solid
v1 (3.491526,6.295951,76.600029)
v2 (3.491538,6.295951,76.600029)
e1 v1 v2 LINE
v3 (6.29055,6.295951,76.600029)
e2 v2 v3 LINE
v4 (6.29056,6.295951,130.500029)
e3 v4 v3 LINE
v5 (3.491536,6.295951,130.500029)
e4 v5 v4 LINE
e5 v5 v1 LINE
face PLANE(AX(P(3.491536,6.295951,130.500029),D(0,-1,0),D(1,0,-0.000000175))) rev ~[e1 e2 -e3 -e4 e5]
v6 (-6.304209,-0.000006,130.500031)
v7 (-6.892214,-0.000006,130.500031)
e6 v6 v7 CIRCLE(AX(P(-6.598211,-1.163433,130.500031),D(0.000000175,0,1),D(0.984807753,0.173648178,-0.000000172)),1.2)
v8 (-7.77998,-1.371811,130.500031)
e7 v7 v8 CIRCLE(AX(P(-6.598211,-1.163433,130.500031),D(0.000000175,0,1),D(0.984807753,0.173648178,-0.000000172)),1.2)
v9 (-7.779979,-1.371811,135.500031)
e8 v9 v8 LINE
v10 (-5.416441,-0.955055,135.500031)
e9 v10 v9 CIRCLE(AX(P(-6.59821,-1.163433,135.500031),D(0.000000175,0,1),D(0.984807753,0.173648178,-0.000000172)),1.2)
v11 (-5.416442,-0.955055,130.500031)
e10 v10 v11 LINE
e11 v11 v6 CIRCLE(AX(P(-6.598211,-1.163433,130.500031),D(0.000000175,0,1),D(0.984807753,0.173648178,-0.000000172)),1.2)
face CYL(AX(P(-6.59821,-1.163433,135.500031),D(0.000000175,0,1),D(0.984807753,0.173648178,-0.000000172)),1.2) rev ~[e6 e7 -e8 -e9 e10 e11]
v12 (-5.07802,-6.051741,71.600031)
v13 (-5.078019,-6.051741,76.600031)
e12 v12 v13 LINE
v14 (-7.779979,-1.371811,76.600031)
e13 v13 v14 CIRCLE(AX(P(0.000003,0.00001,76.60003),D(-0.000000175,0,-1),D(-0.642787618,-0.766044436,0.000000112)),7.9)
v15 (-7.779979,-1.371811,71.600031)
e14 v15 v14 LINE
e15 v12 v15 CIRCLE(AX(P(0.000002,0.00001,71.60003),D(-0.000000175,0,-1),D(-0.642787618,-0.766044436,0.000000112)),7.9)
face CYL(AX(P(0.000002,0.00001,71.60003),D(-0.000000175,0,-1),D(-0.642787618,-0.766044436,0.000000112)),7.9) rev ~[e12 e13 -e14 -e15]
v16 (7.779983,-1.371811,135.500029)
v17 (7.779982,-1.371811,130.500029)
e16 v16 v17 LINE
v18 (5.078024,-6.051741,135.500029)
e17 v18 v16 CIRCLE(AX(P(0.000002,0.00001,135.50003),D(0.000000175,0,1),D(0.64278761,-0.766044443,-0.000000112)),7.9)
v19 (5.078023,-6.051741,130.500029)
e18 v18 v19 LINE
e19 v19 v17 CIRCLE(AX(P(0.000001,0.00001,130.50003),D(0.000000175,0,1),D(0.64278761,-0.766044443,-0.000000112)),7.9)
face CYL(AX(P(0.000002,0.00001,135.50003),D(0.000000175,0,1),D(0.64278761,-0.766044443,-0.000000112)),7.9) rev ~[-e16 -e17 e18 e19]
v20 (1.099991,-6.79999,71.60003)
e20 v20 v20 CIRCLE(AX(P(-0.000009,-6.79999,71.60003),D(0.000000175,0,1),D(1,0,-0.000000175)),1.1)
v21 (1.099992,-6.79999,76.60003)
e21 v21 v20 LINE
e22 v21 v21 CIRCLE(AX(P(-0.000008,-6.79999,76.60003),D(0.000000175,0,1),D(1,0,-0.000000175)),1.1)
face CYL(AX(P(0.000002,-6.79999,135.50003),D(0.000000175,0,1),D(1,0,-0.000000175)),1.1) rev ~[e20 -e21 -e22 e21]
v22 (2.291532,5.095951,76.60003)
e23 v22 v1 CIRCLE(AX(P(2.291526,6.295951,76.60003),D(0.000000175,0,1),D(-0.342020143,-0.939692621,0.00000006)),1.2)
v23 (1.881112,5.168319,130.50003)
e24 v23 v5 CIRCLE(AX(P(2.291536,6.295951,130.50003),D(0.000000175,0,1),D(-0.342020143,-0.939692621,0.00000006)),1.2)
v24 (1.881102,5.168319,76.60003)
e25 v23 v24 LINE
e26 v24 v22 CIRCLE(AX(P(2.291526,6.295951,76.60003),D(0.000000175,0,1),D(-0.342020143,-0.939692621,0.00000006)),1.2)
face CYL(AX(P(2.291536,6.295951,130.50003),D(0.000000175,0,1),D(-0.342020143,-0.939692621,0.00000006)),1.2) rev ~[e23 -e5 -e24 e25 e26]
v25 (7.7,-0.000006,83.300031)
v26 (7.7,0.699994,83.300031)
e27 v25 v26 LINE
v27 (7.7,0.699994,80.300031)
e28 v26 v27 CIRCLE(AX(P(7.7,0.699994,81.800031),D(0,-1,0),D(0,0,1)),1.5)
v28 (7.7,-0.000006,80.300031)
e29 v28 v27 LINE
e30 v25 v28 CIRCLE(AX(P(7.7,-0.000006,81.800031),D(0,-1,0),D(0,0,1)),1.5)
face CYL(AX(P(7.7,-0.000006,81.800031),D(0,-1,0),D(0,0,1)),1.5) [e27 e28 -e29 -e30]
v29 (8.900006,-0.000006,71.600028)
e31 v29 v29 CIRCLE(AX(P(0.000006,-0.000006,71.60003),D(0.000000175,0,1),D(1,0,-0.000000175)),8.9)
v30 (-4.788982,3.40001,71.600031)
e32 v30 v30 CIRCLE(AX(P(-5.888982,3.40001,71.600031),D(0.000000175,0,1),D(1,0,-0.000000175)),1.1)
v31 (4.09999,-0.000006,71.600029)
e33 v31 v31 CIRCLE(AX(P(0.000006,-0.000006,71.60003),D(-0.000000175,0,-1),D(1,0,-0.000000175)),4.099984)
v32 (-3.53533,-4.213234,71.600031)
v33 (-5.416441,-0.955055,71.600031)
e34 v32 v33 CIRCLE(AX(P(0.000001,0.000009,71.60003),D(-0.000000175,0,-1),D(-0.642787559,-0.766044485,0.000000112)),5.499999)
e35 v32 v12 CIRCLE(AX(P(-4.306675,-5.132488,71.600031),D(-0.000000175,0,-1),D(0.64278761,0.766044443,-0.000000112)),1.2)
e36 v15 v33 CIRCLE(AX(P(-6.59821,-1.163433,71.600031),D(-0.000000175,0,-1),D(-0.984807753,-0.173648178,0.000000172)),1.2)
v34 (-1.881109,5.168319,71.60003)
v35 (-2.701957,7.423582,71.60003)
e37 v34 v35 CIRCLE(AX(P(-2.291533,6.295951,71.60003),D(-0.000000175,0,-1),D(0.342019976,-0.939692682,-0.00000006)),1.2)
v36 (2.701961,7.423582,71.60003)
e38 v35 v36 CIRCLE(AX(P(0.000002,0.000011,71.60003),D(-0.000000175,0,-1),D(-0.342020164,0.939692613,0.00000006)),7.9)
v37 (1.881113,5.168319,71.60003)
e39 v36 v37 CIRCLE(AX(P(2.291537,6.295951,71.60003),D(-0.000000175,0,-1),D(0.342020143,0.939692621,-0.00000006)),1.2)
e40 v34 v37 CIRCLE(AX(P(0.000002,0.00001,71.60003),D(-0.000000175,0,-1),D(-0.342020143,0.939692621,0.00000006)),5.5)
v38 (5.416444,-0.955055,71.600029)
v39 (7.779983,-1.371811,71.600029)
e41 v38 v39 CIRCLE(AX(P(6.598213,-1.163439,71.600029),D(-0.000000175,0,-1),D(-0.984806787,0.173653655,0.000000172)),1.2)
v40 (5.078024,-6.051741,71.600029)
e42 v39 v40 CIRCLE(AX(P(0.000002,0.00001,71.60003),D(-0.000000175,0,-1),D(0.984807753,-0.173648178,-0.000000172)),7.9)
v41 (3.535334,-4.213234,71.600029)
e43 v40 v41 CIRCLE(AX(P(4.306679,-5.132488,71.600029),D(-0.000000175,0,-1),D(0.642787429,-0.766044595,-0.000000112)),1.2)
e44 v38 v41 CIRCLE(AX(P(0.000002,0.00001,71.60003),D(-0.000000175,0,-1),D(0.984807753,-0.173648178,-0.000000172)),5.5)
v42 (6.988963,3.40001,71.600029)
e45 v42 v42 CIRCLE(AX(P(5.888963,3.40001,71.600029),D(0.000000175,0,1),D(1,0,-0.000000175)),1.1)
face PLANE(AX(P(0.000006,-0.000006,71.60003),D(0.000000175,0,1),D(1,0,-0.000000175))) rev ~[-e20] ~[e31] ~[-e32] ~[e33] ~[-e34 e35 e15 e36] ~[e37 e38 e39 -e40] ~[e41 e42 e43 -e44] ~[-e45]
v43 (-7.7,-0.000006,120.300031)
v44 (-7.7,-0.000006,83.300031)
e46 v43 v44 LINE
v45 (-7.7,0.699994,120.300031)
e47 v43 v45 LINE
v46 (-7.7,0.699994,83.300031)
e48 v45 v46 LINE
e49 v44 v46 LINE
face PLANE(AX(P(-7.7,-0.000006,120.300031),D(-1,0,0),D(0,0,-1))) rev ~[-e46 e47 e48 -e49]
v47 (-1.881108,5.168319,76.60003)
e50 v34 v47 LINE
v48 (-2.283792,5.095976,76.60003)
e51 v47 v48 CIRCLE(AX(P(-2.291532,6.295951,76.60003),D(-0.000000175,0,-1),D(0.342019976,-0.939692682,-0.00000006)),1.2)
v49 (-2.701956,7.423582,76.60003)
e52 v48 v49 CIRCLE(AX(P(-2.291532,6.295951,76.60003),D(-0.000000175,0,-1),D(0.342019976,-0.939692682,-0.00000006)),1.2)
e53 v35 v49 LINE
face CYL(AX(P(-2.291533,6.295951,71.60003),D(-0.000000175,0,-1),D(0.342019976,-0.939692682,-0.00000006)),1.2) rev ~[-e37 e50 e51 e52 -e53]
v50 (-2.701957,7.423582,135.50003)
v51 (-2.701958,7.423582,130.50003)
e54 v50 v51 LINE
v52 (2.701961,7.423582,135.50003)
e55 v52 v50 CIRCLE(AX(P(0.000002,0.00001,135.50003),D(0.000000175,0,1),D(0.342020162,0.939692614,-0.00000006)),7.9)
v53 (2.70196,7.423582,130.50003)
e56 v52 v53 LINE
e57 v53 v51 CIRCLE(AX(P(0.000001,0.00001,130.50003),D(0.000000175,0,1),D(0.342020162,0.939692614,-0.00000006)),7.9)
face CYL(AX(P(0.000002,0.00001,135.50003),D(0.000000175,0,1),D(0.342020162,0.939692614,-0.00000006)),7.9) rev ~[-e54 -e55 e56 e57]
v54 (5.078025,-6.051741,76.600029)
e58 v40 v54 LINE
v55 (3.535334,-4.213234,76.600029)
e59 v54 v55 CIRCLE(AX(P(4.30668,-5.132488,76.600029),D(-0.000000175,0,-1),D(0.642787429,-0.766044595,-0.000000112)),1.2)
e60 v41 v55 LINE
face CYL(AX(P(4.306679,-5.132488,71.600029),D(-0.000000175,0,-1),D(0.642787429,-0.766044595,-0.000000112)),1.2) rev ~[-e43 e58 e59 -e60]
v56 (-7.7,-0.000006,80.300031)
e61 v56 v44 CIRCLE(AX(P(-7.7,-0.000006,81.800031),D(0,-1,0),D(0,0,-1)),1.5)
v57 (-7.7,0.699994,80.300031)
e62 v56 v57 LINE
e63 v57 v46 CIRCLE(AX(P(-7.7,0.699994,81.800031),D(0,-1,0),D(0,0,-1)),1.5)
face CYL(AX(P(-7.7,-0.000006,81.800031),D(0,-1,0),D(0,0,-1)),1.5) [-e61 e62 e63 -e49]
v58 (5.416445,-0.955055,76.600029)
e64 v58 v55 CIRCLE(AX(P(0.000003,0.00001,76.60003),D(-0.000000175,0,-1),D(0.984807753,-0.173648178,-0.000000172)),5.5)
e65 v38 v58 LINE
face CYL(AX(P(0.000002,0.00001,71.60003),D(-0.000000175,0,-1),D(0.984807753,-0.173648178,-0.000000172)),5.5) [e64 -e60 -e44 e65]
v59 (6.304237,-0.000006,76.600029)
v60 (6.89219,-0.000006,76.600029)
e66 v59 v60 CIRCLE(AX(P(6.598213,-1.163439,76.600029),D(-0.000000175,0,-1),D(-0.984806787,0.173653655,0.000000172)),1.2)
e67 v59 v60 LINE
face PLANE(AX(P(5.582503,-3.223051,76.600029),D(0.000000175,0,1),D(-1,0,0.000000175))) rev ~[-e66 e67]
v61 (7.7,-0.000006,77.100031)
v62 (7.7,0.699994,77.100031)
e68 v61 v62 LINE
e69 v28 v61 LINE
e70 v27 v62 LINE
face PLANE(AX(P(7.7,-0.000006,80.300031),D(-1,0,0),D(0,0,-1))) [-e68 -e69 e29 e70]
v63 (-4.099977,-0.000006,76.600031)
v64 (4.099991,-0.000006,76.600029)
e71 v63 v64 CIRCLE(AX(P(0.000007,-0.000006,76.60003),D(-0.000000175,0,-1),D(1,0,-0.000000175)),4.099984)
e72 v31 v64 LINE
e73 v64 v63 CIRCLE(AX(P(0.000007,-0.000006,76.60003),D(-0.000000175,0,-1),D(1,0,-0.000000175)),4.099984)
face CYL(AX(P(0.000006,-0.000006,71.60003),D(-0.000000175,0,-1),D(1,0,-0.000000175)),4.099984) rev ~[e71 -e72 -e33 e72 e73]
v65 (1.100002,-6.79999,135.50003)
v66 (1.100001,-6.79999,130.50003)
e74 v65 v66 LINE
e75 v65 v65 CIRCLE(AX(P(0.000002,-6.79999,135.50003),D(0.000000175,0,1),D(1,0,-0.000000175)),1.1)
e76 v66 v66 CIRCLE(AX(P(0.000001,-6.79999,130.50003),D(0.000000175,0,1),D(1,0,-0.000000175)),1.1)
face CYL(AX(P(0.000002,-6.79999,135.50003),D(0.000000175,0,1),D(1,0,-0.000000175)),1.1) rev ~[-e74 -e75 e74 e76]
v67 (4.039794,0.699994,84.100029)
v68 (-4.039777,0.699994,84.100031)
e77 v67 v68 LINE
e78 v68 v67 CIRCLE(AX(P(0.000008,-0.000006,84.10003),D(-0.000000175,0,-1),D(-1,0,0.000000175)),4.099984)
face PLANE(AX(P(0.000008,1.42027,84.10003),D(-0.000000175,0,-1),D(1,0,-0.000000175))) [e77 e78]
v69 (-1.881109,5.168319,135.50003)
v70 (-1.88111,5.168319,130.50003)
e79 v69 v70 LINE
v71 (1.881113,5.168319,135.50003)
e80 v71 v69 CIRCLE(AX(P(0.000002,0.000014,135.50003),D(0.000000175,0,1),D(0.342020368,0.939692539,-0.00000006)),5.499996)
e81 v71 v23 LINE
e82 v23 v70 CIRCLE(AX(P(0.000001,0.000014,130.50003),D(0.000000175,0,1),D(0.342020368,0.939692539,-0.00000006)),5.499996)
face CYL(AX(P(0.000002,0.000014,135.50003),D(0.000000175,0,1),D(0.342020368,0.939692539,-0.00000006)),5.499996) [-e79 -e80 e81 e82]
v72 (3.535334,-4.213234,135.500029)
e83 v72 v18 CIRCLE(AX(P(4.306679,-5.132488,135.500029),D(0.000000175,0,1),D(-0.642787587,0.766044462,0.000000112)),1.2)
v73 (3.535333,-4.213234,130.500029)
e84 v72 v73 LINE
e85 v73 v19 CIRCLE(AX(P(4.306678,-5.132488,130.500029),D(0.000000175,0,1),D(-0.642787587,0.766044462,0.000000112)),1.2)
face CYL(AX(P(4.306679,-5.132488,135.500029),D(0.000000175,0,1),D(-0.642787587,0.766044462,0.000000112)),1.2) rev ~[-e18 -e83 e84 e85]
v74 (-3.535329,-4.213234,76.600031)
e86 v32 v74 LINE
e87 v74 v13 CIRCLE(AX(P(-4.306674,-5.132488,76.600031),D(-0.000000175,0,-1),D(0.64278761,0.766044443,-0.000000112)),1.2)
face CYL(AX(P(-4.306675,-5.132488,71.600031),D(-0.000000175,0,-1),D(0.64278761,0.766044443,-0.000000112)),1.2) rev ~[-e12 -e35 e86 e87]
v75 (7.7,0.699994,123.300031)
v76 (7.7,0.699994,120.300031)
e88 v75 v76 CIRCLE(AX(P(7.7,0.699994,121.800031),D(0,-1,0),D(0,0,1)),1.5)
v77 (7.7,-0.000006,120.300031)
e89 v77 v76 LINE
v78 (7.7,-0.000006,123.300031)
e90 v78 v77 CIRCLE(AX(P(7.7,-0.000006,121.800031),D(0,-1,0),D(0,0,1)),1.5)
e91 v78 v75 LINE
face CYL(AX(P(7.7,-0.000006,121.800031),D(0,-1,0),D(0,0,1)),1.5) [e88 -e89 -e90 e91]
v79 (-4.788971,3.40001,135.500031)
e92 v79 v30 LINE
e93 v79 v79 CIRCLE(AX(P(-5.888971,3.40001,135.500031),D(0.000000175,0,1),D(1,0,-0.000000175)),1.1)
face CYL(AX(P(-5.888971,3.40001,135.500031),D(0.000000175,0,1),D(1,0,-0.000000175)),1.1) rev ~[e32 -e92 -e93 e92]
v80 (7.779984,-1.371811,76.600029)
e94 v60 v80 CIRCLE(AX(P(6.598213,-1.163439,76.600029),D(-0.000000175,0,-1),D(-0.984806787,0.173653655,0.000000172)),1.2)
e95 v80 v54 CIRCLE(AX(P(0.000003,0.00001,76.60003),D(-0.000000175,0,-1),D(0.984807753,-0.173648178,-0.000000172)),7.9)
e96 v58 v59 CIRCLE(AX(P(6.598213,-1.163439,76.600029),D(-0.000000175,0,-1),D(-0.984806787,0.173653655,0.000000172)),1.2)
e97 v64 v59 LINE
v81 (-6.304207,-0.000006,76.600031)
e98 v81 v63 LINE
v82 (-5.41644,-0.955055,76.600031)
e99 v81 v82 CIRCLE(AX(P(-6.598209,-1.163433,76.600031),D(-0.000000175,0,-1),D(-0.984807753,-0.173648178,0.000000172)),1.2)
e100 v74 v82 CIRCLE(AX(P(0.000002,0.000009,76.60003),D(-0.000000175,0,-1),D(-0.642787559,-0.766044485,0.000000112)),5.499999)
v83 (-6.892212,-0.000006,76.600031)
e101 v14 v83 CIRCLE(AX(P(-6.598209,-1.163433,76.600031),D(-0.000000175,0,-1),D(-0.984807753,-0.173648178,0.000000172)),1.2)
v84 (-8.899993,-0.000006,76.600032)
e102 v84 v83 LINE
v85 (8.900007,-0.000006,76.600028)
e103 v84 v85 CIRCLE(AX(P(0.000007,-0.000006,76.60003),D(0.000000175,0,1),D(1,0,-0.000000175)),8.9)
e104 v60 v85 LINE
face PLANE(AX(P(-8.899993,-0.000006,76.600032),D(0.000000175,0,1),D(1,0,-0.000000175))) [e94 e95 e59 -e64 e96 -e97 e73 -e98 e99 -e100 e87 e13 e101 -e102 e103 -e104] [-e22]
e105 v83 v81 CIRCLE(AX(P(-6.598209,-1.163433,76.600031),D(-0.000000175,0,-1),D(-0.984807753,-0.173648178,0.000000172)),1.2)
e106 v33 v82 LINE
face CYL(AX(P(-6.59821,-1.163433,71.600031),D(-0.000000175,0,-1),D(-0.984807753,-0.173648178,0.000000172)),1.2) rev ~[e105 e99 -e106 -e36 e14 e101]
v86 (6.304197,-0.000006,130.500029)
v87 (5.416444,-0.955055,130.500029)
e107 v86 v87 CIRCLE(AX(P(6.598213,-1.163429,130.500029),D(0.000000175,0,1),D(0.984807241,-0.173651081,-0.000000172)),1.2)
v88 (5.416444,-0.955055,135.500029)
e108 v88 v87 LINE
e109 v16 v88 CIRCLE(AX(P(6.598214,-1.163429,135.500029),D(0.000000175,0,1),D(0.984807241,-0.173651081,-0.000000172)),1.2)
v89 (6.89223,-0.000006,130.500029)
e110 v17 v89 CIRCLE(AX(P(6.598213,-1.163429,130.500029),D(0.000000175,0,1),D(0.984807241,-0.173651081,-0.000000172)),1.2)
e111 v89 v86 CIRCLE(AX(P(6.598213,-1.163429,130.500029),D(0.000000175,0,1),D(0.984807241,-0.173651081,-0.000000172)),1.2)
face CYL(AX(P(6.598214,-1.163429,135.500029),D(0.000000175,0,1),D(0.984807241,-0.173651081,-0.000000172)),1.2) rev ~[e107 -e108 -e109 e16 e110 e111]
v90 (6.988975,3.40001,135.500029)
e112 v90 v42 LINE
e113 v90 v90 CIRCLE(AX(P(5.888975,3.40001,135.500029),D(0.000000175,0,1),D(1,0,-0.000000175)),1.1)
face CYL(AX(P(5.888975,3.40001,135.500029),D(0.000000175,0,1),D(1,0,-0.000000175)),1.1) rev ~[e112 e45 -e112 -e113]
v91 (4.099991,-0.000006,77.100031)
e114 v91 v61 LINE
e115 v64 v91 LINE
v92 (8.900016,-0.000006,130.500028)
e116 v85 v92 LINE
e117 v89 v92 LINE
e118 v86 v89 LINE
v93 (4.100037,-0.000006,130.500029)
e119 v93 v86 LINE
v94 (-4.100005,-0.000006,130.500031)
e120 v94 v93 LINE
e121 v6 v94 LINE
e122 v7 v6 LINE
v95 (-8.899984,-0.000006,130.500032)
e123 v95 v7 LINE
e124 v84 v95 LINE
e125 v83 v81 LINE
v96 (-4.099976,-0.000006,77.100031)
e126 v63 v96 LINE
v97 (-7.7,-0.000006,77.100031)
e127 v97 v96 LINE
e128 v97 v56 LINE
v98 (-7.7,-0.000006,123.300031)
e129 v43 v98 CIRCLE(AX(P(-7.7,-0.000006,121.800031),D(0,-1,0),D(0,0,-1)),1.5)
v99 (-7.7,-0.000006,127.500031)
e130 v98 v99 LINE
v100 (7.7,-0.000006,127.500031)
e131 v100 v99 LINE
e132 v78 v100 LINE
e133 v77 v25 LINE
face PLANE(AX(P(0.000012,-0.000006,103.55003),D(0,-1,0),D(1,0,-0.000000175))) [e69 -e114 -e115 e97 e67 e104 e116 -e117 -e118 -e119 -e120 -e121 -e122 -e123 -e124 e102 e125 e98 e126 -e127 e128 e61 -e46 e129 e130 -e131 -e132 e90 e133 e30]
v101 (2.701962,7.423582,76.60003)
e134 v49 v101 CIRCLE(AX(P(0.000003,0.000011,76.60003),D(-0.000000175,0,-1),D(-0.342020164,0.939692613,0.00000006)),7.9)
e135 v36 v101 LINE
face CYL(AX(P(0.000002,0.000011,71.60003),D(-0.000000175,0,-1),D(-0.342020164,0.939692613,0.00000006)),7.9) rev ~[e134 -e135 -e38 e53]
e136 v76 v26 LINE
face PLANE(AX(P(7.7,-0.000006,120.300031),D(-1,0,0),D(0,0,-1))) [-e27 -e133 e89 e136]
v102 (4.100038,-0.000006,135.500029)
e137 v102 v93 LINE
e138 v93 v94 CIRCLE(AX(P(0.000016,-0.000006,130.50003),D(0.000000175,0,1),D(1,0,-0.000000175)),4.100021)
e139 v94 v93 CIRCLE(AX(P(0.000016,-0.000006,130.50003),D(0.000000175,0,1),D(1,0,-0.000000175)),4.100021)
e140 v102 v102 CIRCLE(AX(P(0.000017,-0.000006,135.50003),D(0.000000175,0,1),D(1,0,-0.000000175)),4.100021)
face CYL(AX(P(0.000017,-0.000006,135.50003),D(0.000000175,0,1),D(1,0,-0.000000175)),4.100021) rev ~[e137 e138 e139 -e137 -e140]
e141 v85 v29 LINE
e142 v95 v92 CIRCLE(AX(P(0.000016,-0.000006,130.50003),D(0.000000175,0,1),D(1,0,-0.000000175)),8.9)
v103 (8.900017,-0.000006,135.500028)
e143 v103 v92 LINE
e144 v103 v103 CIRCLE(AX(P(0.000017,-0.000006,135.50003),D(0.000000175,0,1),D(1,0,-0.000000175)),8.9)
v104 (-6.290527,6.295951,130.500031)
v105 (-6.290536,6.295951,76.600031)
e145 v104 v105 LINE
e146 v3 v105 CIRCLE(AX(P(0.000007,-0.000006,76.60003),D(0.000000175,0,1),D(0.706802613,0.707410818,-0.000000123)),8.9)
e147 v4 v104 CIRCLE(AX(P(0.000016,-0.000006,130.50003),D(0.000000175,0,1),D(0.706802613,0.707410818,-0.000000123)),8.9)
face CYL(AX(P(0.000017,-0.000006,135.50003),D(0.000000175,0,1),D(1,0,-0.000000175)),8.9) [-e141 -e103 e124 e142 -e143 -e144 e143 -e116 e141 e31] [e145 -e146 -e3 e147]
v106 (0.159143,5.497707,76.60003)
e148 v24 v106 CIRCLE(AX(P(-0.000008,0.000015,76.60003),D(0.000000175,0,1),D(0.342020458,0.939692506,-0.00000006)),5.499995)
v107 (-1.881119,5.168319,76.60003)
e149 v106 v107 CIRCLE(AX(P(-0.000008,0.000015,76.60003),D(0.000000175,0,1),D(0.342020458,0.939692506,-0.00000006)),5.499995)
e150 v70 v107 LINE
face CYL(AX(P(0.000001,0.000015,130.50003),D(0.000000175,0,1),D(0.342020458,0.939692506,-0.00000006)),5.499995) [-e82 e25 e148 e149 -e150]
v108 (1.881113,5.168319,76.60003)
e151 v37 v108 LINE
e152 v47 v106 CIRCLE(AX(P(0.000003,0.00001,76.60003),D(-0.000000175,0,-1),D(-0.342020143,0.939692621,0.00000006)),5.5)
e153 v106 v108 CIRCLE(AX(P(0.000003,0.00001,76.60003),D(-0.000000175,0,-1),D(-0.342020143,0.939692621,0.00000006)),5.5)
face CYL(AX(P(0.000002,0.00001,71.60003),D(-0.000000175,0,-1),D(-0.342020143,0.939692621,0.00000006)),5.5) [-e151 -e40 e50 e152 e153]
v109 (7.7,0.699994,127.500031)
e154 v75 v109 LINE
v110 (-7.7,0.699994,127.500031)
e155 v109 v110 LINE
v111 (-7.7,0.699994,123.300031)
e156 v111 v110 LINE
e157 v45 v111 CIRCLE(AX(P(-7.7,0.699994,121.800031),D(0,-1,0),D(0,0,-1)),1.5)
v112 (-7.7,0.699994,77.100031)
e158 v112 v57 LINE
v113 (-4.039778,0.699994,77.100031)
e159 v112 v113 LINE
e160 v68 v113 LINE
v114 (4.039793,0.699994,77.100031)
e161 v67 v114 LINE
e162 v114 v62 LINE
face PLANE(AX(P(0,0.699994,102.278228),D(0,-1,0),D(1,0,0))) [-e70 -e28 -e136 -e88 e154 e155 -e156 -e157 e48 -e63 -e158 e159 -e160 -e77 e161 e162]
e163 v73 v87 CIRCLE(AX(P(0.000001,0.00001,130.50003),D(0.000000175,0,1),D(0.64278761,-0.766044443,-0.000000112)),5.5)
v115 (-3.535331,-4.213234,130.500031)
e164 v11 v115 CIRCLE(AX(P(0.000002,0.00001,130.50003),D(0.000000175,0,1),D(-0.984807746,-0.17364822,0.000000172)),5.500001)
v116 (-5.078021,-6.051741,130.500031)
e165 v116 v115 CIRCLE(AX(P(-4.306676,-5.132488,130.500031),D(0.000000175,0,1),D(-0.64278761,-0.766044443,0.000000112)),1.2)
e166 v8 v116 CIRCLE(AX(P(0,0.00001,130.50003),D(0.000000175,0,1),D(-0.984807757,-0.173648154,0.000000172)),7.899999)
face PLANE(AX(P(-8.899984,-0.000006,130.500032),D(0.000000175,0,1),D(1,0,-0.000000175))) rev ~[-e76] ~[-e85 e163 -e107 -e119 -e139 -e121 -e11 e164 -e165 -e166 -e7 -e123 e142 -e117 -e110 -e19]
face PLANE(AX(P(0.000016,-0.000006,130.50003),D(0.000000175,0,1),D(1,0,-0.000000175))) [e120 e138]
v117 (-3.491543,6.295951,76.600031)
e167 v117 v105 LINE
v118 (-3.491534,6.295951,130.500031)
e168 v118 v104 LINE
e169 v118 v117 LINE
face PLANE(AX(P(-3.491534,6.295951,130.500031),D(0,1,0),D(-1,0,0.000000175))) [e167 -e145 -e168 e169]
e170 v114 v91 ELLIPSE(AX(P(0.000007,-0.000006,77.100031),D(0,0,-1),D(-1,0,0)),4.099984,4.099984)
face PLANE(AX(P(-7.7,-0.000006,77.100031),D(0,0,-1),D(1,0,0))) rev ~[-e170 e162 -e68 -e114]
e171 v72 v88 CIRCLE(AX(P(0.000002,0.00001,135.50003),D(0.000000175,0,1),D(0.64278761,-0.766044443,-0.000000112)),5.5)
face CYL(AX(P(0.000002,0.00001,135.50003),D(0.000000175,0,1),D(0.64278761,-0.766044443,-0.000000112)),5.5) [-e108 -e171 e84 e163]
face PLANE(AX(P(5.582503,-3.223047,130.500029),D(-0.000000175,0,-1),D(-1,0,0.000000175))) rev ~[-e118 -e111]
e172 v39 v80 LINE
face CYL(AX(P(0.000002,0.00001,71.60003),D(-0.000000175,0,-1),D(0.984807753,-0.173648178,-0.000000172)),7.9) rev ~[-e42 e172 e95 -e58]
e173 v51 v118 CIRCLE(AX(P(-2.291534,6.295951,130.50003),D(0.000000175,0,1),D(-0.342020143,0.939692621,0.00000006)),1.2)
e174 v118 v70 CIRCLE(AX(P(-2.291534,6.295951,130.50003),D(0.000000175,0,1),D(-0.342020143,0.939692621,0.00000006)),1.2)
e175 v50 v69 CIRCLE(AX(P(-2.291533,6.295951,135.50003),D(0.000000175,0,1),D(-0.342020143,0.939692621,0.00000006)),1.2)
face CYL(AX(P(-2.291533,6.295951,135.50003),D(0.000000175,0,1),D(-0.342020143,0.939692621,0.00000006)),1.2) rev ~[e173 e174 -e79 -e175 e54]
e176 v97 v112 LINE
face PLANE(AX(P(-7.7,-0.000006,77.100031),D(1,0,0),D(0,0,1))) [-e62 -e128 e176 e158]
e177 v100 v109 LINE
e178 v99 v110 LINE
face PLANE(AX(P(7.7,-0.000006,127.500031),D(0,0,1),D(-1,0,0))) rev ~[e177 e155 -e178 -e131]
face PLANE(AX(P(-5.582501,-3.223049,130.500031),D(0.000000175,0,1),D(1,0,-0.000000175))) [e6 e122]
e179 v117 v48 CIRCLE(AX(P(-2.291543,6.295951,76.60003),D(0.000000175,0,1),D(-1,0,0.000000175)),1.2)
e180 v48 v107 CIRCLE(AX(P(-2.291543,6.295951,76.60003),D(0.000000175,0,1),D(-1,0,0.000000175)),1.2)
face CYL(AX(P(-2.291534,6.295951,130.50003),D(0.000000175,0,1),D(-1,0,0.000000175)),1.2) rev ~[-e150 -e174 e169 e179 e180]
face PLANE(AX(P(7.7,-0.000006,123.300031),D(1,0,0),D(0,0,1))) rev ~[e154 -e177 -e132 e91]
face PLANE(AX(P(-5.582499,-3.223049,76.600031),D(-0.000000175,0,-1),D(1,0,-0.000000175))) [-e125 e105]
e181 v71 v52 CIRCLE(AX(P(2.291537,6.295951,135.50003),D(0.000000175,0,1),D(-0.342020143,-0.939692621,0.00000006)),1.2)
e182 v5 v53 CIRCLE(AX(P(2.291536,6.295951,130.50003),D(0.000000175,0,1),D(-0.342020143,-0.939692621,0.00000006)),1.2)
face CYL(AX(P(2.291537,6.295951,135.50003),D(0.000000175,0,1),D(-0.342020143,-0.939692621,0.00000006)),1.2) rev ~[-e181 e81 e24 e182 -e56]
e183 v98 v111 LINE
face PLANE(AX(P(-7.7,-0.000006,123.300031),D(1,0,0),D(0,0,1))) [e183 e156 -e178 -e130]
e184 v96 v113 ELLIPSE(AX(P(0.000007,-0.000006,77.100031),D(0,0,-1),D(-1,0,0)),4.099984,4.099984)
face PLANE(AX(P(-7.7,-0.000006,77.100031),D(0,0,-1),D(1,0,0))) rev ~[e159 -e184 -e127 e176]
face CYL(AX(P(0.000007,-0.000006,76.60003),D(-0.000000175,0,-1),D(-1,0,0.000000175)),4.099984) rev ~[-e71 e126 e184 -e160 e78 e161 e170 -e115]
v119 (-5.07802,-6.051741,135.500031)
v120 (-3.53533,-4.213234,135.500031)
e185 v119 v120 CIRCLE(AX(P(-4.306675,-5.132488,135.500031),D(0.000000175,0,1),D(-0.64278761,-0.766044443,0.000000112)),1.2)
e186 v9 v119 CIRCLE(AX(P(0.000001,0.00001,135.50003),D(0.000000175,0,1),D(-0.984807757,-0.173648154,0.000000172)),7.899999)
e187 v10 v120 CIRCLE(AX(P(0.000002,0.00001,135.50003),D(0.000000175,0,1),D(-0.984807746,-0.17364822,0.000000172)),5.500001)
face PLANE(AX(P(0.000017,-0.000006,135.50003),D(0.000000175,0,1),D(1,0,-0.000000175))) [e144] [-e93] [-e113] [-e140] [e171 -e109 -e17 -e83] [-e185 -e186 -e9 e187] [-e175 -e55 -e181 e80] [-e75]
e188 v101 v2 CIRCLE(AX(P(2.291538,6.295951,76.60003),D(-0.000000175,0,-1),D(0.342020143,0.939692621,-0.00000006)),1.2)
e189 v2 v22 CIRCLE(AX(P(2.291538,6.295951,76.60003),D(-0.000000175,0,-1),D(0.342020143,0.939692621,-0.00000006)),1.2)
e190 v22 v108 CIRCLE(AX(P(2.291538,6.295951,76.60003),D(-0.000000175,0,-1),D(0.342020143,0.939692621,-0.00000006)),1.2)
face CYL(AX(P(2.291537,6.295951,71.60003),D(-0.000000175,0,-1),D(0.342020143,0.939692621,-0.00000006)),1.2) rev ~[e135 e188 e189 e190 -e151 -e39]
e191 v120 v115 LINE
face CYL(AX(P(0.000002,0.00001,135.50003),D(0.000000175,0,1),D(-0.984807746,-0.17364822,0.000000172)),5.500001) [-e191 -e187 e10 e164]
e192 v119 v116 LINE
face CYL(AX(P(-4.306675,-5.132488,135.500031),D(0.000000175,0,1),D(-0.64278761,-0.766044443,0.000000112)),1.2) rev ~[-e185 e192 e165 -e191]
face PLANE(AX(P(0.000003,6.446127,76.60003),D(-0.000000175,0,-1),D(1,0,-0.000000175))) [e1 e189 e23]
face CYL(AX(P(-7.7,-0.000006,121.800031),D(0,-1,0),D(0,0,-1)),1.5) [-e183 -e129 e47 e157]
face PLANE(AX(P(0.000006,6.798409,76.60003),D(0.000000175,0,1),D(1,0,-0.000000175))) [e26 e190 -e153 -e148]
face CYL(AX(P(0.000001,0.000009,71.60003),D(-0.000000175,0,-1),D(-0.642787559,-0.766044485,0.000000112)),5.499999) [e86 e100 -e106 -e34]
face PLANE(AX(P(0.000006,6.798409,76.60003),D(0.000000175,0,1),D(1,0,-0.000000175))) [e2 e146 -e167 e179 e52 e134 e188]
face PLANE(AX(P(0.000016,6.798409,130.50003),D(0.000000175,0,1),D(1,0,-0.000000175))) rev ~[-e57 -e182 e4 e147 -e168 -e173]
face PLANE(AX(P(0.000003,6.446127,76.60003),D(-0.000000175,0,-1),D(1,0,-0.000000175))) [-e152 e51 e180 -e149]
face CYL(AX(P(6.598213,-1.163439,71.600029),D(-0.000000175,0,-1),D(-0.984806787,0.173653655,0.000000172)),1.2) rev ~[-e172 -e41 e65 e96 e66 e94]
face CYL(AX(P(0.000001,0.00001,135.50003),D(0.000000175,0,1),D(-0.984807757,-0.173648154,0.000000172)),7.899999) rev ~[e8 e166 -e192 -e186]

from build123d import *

# Parameters (mm, degrees)
SKETCH018_R     = 8.9
SKETCH018_R_2   = 1.1
PAD010_DEPTH    = 63.9
SKETCH021_R     = 4.0999836604
POCKET011_DEPTH = 5
SKETCH022_R     = 4.100021
POCKET012_DEPTH = 5
SKETCH023_W     = 17.8
SKETCH023_H     = 53.9
POCKET013_DEPTH = 8.901
POCKET014_DEPTH = 53.9
POCKET015_DEPTH = 7.5
POCKET016_DEPTH = 0.7


with BuildPart() as part:
    # Sketch018 (on Face1 of Binder002) → Pad010 (new body)
    with BuildSketch(Plane(origin=(1.7366e-05, 0, 99.49997), x_dir=(1, 0, -1.745e-07), z_dir=(1.745e-07, 0, 1))):
        Circle(SKETCH018_R)
        with Locations((-5.8889883308, 3.400015722)):
            Circle(SKETCH018_R_2, mode=Mode.SUBTRACT)
        with Locations((5.8889571607, 3.400015722)):
            Circle(SKETCH018_R_2, mode=Mode.SUBTRACT)
        with Locations((-1.5585e-05, -6.799984278)):
            Circle(SKETCH018_R_2, mode=Mode.SUBTRACT)
    extrude(amount=-PAD010_DEPTH)

    # Sketch021 → Pocket011 (cut)
    with BuildSketch(Plane(origin=(6.2134e-06, 0, 35.59997), x_dir=(1, 0, -1.745e-07), z_dir=(-1.745e-07, 0, -1))):
        Circle(SKETCH021_R)
        with BuildLine():
            ThreePointArc((-1.8811152381, -5.1683251364), (-3.4191703541, -5.8855321825), (-2.7019635821, -7.4235874263))
            ThreePointArc((-2.7019635821, -7.4235874263), (-4.4498e-06, -7.9000157524), (2.7019546824, -7.4235874263))
            ThreePointArc((2.7019546824, -7.4235874263), (3.4191616554, -5.8855321093), (1.8811063384, -5.1683251364))
            ThreePointArc((-1.8811152381, -5.1683251364), (-4.4498e-06, -5.500015722), (1.8811063384, -5.1683251364))
        make_face()
        with BuildLine():
            ThreePointArc((5.4164381917, 0.9550492551), (4.763135271, 2.749984278), (3.5353274034, 4.2132287151))
            ThreePointArc((5.0780176667, 6.0517353786), (3.3874194198, 5.9038269968), (3.5353274034, 4.2132287151))
            ThreePointArc((7.7799767989, 1.3718048815), (6.84159624, 3.949984278), (5.0780176667, 6.0517353786))
            ThreePointArc((5.4164381917, 0.9550492551), (6.8065841495, -0.018335662), (7.7799767989, 1.3718048815))
        make_face()
        with BuildLine():
            ThreePointArc((-3.5353363031, 4.2132287151), (-3.387428103, 5.9038271785), (-5.0780265664, 6.0517353786))
            ThreePointArc((-5.0780265664, 6.0517353786), (-6.8416051259, 3.94998427), (-7.7799856986, 1.3718048815))
            ThreePointArc((-7.7799856986, 1.3718048815), (-6.8065942082, -0.0183422353), (-5.4164470914, 0.9550492551))
            ThreePointArc((-3.5353363031, 4.2132287151), (-4.7631442258, 2.7499843098), (-5.4164470914, 0.9550492551))
        make_face()
    extrude(amount=-POCKET011_DEPTH, mode=Mode.SUBTRACT)

    # Sketch022 (on Face2 of Pocket011) → Pocket012 (cut)
    with BuildSketch(Plane(origin=(1.7366e-05, 0, 99.49997), x_dir=(1, 0, -1.745e-07), z_dir=(1.745e-07, 0, 1))):
        Circle(SKETCH022_R)
        with BuildLine():
            ThreePointArc((-5.0780377016, -6.0517353786), (-3.3874392382, -5.9038271785), (-3.5353474383, -4.2132287151))
            ThreePointArc((-5.4164582266, -0.9550492551), (-4.7631552696, -2.749984257), (-3.5353474383, -4.2132287151))
            ThreePointArc((-5.4164582266, -0.9550492551), (-6.8066053434, 0.0183422353), (-7.7799968338, -1.3718048815))
            ThreePointArc((-7.7799968338, -1.3718048815), (-6.8416163045, -3.949984295), (-5.0780377016, -6.0517353786))
        make_face()
        with BuildLine():
            ThreePointArc((3.5353162682, -4.2132287151), (4.7631241358, -2.749984278), (5.4164270565, -0.9550492551))
            ThreePointArc((7.7799656637, -1.3718048815), (6.8065747876, 0.018345719), (5.4164270565, -0.9550492551))
            ThreePointArc((5.0780065315, -6.0517353786), (6.8415851048, -3.949984278), (7.7799656637, -1.3718048815))
            ThreePointArc((3.5353162682, -4.2132287151), (3.3874080412, -5.9038272011), (5.0780065315, -6.0517353786))
        make_face()
        with BuildLine():
            ThreePointArc((1.8810952032, 5.1683251364), (3.4191505202, 5.8855321093), (2.7019435472, 7.4235874263))
            ThreePointArc((2.7019435472, 7.4235874263), (-1.5585e-05, 7.9000157491), (-2.7019747173, 7.4235874263))
            ThreePointArc((-2.7019747173, 7.4235874263), (-3.4191816903, 5.8855321093), (-1.8811263733, 5.1683251364))
            ThreePointArc((1.8810952032, 5.1683251364), (-1.5585e-05, 5.5000159544), (-1.8811263733, 5.1683251364))
        make_face()
    extrude(amount=-POCKET012_DEPTH, mode=Mode.SUBTRACT)

    # Sketch023 (on DatumPlane) → Pocket013 (cut, through all)
    with BuildSketch(Plane(origin=(1.7366e-05, 0, 99.49997), x_dir=(1, 0, -1.745e-07), z_dir=(0, -1, 0))):
        with Locations((0, -31.95)):
            Rectangle(SKETCH023_W, SKETCH023_H)
    extrude(amount=POCKET013_DEPTH, mode=Mode.SUBTRACT)

    # Sketch024 (on Face2 of Pocket013) → Pocket014 (cut)
    with BuildSketch(Plane(origin=(1.64934e-05, 0, 94.49997), x_dir=(1, 0, -1.745e-07), z_dir=(1.745e-07, 0, 1))):
        with BuildLine():
            ThreePointArc((-3.4915505453, 6.2959562813), (-2.979842269, 5.3129738282), (-1.8811263733, 5.1683251364))
            ThreePointArc((1.8810952032, 5.1683251364), (-1.5585e-05, 5.5000160464), (-1.8811263733, 5.1683251364))
            ThreePointArc((1.8810952032, 5.1683251364), (2.9798110989, 5.3129738282), (3.4915193752, 6.2959562813))
            Line((3.4915193752, 6.2959562813), (6.2905432598, 6.2959562813))
            ThreePointArc((6.2905432598, 6.2959562813), (0, 8.9), (-6.2905432598, 6.2959562813))
            Line((-3.4915505453, 6.2959562813), (-6.2905432598, 6.2959562813))
        make_face()
    extrude(amount=-POCKET014_DEPTH, mode=Mode.SUBTRACT)

    # Sketch026 (on Face22 of Pocket014) → Pocket015 (cut)
    with BuildSketch(Plane(origin=(7.086e-06, 0, 40.59997), x_dir=(1, 0, -1.745e-07), z_dir=(-1.745e-07, 0, -1))):
        with BuildLine():
            ThreePointArc((-4.0999836604, 0), (0, -4.0999836604), (4.0999836604, 0))
            Line((-4.0999836604, 0), (4.0999836604, 0))
        make_face()
    extrude(amount=-POCKET015_DEPTH, mode=Mode.SUBTRACT)

    # Sketch025 (on Face3 of Pocket014) → Pocket016 (cut)
    with BuildSketch(Plane.XZ):
        with BuildLine():
            Line((-7.7, 41.0999707156), (7.7, 41.0999707156))
            Line((7.7, 44.2999707156), (7.7, 41.0999707156))
            ThreePointArc((7.7, 47.2999707156), (6.2, 45.7999707156), (7.7, 44.2999707156))
            Line((7.7, 84.2999707156), (7.7, 47.2999707156))
            ThreePointArc((7.7, 87.2999707156), (6.2, 85.7999707156), (7.7, 84.2999707156))
            Line((7.7, 87.2999707156), (7.7, 91.4999707156))
            Line((7.7, 91.4999707156), (-7.7, 91.4999707156))
            Line((-7.7, 87.2999707156), (-7.7, 91.4999707156))
            ThreePointArc((-7.7, 84.2999707156), (-6.2, 85.7999707156), (-7.7, 87.2999707156))
            Line((-7.7, 84.2999707156), (-7.7, 47.2999707156))
            ThreePointArc((-7.7, 44.2999707156), (-6.2, 45.7999707156), (-7.7, 47.2999707156))
            Line((-7.7, 41.0999707156), (-7.7, 44.2999707156))
        make_face()
    extrude(amount=-POCKET016_DEPTH, mode=Mode.SUBTRACT)


with BuildPart() as part_1:
    # Body008 placement: moved
    add(part.part.moved(Location((0, -5.722e-06, 36.00006))))


solid = part_1.part
